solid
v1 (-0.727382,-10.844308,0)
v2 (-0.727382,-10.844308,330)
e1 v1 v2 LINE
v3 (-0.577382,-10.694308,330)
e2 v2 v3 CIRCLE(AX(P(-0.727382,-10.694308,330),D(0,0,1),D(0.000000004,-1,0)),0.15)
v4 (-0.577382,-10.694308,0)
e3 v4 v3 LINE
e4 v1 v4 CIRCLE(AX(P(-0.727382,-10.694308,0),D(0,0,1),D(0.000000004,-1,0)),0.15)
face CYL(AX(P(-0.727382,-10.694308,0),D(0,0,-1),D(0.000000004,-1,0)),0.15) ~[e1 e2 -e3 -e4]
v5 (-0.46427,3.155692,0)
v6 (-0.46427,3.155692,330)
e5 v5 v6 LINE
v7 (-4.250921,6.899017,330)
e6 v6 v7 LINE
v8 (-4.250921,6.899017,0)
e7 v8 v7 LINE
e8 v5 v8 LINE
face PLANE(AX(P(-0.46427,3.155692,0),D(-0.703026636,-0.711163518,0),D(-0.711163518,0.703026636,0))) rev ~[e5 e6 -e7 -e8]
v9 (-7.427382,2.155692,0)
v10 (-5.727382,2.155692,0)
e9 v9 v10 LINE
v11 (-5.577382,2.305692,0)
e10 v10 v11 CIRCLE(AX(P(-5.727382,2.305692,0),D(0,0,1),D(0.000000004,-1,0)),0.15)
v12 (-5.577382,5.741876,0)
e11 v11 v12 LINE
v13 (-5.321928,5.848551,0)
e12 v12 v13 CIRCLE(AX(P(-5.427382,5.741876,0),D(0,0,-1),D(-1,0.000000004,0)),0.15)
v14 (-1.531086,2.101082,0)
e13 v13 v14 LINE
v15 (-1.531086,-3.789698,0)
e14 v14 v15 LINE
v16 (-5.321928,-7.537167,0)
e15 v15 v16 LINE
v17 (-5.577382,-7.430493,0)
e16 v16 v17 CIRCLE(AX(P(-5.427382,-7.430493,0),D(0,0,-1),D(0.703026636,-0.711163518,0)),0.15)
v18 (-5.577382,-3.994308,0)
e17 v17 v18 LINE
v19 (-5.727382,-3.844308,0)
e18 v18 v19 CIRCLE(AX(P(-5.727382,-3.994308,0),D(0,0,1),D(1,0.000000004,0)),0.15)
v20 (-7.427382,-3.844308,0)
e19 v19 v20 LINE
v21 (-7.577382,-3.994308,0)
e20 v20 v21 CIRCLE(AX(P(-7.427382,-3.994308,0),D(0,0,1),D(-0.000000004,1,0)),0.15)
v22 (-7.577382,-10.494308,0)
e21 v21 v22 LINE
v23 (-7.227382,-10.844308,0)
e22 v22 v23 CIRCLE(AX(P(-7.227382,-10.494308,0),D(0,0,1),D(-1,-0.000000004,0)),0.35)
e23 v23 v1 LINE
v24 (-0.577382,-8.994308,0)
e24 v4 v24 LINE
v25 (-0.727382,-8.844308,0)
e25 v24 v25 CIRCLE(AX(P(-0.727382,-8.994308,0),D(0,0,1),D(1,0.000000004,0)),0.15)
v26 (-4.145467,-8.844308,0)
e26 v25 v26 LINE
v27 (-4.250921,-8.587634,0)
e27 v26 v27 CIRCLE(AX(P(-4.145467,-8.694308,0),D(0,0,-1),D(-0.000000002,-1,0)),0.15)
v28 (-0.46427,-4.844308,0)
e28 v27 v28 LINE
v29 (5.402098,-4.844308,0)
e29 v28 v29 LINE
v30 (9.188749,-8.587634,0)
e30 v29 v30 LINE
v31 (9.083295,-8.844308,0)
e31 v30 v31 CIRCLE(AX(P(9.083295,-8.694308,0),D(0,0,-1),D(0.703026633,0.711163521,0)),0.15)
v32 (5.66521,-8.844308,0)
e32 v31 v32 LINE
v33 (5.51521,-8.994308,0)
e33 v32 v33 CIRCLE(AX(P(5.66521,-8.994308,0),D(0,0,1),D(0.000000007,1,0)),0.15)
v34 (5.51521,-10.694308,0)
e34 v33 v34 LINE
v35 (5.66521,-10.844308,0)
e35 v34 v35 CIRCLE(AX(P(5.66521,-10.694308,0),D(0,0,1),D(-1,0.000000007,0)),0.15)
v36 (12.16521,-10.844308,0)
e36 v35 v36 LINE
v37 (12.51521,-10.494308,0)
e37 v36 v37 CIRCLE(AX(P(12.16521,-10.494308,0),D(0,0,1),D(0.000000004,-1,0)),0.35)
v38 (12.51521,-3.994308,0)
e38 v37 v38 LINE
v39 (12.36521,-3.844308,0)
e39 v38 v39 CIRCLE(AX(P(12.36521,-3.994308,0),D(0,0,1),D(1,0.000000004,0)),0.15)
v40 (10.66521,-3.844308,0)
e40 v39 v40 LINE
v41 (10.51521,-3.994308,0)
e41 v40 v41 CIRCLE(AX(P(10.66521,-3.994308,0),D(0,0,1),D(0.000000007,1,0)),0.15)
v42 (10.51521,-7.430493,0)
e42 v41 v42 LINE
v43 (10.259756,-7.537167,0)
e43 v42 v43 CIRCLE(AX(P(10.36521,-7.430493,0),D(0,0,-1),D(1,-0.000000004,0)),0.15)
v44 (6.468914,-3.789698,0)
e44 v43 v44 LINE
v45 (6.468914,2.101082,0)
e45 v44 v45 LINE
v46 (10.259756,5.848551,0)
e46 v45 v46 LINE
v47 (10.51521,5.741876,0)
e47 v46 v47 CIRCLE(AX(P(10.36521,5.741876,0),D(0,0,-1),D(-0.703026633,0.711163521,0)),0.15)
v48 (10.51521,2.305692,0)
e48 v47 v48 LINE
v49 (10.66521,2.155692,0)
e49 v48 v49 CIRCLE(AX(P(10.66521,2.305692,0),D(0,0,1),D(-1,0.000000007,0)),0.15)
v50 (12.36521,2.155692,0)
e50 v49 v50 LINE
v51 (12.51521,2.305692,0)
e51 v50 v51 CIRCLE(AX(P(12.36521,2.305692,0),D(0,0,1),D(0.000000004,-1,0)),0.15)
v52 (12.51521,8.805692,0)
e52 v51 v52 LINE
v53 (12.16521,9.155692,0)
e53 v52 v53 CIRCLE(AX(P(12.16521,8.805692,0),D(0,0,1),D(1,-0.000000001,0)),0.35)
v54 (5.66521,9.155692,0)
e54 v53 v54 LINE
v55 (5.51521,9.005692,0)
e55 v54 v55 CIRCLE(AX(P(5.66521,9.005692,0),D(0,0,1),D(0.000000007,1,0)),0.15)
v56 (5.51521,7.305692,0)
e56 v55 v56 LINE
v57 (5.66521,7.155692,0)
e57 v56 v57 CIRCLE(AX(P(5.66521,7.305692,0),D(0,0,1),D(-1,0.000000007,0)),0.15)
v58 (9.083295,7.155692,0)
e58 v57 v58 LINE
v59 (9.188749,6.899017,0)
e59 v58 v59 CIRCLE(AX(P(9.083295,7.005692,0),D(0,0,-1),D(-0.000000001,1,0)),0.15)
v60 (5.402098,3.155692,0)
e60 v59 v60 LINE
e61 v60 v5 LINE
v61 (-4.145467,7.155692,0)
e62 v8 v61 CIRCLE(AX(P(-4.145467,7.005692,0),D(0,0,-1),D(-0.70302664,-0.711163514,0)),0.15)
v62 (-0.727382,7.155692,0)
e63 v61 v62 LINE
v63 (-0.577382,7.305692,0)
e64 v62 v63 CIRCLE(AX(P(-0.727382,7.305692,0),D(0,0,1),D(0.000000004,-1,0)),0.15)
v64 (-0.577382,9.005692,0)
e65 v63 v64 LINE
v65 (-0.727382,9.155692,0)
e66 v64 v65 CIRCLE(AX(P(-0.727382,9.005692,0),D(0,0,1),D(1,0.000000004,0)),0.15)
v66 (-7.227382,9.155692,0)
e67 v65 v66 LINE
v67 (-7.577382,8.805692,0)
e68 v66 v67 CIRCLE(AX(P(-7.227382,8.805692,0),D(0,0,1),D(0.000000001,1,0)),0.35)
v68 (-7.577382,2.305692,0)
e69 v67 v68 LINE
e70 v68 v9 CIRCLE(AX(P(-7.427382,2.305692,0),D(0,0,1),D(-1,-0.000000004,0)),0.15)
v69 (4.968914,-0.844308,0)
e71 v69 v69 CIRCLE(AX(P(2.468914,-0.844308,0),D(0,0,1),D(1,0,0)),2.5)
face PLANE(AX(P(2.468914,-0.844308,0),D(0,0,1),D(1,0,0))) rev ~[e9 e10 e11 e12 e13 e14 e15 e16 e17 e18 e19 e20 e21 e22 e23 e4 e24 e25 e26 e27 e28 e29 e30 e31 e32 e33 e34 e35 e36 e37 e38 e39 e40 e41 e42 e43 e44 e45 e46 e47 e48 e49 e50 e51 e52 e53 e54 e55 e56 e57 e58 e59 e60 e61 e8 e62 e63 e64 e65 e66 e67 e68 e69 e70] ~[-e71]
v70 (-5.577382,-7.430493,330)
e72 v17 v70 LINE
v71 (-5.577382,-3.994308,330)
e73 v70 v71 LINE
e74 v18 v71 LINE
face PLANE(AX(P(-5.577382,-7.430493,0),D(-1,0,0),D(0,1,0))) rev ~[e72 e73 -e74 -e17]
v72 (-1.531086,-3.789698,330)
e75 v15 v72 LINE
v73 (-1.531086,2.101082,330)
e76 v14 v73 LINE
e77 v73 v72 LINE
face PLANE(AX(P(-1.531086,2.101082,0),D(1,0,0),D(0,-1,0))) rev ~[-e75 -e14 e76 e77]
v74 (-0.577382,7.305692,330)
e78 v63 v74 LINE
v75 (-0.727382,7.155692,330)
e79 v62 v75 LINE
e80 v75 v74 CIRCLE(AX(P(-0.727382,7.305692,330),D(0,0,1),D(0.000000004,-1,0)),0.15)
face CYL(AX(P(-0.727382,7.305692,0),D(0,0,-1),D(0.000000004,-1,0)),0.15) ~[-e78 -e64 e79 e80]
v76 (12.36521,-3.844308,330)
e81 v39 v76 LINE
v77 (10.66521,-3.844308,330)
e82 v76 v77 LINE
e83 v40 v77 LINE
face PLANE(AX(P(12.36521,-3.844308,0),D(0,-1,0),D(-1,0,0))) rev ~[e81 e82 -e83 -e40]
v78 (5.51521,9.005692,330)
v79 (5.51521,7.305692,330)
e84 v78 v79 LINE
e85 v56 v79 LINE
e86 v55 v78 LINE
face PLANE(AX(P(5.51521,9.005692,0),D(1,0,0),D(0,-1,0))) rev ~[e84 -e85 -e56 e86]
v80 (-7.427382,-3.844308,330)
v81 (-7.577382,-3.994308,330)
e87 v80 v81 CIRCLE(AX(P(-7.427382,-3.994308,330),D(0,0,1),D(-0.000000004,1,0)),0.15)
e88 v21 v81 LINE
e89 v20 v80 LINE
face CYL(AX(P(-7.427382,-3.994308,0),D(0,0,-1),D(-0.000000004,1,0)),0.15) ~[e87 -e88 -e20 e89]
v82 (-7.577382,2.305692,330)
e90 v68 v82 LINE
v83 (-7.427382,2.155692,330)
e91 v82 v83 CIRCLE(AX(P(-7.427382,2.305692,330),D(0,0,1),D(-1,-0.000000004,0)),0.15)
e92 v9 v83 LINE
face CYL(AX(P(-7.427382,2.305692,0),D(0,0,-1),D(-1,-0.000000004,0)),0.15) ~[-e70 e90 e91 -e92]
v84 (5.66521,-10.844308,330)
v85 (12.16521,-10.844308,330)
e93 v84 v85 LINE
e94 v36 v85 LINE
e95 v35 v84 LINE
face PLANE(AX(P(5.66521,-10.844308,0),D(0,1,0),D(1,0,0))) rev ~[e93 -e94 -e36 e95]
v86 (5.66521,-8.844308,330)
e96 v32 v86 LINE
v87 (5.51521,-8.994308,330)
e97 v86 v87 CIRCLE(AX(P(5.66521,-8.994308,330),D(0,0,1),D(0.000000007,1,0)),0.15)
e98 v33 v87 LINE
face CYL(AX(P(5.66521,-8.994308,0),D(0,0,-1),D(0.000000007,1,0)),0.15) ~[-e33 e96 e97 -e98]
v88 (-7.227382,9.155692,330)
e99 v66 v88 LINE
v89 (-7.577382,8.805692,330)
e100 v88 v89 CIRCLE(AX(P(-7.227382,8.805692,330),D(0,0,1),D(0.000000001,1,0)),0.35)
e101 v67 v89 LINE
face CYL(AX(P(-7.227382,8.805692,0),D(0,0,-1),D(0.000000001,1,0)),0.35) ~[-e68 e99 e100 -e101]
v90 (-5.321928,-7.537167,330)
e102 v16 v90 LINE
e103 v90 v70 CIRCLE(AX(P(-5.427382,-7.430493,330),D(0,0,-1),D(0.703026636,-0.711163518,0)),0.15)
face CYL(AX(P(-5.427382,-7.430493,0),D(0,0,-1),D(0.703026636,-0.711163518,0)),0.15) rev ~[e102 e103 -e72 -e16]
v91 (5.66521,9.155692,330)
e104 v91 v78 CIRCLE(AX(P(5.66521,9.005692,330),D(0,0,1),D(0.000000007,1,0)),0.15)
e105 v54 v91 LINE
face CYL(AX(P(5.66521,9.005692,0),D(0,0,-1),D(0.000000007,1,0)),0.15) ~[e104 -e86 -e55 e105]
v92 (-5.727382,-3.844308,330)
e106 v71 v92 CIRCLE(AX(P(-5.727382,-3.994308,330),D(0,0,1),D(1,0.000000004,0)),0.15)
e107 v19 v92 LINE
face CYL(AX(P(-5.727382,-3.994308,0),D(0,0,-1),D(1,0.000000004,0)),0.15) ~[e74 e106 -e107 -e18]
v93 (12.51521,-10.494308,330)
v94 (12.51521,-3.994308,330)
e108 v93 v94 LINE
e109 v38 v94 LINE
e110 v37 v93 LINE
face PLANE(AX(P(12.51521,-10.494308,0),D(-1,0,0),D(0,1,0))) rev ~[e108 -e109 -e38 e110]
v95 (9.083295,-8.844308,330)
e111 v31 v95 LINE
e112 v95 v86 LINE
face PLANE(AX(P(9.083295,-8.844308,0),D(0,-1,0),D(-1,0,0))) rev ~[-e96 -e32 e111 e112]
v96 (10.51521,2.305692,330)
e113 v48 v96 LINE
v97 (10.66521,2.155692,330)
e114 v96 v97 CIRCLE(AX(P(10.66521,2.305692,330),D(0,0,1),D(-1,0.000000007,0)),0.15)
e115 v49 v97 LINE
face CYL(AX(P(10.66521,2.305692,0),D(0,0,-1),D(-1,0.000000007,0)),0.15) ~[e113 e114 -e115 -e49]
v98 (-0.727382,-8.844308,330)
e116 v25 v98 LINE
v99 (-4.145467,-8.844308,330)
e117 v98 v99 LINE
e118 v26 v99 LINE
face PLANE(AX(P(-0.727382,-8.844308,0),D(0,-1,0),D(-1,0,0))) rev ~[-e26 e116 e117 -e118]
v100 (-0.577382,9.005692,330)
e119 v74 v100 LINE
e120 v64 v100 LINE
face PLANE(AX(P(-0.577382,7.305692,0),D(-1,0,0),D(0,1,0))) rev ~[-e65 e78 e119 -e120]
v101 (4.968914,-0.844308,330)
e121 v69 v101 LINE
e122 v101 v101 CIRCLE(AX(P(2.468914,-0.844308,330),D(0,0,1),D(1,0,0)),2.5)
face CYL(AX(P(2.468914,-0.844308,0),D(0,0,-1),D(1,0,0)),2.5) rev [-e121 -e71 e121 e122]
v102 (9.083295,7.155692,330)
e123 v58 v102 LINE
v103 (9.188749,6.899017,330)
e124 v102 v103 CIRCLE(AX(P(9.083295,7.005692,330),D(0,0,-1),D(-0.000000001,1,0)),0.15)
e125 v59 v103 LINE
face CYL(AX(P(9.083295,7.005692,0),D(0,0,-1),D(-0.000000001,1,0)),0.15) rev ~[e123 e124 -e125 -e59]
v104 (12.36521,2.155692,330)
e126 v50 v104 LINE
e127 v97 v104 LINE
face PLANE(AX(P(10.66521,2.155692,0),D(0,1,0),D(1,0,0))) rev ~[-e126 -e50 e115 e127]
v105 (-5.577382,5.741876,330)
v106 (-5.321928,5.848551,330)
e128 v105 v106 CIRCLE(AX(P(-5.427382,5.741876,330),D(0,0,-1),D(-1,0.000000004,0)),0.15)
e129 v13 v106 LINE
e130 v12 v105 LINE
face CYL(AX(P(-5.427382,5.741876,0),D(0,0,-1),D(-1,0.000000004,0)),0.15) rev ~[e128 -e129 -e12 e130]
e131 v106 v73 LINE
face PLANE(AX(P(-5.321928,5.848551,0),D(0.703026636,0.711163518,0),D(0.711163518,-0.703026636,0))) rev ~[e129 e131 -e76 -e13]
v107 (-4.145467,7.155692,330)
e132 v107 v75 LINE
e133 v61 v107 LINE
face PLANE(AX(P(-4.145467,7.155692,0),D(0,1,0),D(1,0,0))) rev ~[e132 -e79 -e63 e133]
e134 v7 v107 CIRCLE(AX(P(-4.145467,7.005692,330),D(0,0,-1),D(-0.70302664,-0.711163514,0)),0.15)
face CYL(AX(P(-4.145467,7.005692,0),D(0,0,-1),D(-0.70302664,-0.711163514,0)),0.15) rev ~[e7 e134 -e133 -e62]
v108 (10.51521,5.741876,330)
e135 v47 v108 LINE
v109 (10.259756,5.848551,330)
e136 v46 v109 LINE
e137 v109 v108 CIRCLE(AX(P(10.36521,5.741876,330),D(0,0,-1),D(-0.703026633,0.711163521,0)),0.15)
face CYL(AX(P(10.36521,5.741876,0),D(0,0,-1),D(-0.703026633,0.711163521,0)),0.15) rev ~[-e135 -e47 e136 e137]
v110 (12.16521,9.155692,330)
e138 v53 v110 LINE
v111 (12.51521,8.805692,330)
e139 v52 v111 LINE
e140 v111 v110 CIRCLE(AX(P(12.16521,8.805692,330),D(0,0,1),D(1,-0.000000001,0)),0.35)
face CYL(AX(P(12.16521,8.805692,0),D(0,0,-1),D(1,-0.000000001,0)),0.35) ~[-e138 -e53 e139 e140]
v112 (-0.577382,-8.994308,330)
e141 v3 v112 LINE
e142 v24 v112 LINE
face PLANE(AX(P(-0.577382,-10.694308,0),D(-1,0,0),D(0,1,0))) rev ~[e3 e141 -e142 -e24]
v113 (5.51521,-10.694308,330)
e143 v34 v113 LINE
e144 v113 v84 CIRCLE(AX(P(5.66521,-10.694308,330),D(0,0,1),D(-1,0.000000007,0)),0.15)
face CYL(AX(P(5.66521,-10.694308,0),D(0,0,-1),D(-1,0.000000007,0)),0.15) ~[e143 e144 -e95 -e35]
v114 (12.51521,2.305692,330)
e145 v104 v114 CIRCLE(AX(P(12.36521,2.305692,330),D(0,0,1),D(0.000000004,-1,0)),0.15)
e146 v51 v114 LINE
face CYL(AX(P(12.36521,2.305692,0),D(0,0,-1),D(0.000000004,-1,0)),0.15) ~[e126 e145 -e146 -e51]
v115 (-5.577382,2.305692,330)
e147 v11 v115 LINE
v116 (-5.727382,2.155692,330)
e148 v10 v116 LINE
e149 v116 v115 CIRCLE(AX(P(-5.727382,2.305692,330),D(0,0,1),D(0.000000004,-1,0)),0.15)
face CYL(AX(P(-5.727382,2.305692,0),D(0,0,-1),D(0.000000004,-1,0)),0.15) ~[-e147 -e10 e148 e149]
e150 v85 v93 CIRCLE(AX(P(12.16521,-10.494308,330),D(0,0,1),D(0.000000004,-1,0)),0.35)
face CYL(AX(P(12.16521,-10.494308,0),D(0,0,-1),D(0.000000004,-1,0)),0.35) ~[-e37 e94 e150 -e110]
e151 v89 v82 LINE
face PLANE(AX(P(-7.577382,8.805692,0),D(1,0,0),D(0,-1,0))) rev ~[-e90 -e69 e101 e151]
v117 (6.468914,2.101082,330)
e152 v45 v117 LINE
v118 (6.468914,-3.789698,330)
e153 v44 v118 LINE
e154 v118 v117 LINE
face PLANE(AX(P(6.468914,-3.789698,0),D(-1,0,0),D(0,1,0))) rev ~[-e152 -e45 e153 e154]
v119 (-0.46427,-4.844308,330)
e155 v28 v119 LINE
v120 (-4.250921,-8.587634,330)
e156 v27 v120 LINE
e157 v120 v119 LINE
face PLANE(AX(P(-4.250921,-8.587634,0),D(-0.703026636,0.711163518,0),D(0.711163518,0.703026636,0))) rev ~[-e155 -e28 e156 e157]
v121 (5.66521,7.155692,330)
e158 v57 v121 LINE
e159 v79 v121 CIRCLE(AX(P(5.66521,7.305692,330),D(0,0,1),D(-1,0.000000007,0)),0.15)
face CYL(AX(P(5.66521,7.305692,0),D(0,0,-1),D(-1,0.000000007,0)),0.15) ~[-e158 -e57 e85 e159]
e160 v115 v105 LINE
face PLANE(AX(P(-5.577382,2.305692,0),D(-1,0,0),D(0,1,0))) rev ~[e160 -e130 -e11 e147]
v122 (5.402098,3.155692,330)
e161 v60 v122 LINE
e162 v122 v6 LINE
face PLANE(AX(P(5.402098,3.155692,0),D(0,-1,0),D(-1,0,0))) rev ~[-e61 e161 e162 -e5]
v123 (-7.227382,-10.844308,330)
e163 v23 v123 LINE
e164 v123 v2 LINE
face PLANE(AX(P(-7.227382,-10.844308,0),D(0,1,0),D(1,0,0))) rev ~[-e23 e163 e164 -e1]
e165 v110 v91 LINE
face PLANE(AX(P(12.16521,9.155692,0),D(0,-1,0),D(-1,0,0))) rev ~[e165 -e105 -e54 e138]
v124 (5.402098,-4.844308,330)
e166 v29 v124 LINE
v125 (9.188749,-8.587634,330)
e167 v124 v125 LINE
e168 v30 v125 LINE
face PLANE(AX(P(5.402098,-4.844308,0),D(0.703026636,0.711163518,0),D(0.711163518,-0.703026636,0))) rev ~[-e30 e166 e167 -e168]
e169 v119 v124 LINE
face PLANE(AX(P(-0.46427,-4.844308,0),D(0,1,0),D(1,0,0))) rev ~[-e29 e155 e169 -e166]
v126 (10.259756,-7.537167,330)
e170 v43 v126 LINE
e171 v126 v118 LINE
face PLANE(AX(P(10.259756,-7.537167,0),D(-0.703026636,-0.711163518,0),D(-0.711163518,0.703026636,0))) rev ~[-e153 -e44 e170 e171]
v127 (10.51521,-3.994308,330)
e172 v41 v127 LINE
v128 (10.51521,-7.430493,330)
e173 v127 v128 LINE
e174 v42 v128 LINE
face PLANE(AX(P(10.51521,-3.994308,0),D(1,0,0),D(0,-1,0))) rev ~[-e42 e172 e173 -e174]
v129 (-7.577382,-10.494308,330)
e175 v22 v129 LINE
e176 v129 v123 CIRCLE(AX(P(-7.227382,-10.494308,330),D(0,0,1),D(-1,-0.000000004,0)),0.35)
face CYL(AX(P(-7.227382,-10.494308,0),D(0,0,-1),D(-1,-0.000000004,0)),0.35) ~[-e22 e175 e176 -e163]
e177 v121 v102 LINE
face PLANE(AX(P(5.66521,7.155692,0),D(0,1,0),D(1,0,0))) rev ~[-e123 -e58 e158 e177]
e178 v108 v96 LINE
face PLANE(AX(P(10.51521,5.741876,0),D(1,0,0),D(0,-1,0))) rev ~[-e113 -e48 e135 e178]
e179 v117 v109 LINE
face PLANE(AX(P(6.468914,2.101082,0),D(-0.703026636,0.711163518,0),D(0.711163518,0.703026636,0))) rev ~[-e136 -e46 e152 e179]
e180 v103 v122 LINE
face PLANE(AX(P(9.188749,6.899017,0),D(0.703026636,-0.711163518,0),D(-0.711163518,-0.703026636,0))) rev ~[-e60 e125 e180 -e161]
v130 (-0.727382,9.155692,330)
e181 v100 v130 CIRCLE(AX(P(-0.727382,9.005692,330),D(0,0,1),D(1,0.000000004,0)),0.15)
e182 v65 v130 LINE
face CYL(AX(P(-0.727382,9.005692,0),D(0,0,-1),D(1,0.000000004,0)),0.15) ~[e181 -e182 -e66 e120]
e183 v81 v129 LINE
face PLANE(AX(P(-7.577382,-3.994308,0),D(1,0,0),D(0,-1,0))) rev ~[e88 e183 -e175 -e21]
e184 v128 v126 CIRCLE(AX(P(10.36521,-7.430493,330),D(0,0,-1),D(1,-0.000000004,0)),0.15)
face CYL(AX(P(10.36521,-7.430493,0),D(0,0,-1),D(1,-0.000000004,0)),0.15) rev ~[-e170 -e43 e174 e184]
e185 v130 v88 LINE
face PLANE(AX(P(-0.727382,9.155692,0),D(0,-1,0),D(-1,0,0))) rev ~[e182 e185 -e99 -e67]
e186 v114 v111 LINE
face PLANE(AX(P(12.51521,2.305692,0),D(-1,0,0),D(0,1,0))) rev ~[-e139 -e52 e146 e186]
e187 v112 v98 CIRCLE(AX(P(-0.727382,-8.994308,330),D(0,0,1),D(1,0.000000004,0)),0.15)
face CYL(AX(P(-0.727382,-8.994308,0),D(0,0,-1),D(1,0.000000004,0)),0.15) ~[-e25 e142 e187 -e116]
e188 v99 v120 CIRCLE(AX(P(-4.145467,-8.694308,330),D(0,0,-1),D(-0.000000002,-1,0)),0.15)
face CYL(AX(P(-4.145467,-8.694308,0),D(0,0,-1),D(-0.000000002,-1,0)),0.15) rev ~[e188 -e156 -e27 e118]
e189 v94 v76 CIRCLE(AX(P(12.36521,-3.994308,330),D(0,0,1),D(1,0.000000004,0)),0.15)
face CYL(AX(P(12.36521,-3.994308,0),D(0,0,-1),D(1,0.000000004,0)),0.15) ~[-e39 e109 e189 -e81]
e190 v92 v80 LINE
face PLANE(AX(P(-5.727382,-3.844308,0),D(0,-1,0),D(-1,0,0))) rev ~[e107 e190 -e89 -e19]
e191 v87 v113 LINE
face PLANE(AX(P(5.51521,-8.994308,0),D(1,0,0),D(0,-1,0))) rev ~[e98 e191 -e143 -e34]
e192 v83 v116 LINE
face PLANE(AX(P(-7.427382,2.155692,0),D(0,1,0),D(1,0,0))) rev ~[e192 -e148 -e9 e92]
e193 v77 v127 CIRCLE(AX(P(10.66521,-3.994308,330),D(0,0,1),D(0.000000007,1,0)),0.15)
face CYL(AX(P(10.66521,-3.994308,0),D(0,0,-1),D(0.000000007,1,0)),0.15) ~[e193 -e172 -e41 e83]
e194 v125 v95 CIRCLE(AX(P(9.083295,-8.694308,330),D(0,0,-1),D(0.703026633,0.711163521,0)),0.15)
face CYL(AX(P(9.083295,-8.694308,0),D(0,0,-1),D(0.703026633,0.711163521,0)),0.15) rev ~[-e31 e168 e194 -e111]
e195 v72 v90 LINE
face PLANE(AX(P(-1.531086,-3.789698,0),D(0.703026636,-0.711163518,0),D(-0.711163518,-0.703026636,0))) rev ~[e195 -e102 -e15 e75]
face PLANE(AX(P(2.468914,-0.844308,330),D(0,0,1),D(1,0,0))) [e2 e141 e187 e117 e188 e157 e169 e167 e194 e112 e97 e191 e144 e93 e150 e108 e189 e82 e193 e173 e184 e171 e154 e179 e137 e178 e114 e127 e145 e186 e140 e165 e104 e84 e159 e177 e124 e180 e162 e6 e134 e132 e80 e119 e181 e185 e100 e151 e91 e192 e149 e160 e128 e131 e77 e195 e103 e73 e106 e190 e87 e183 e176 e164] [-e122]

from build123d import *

# Parameters (mm, degrees)
SKETCH1_R           = 2.5
BOSS_EXTRUDE1_DEPTH = 330


with BuildPart() as part:
    # Sketch1 → Boss-Extrude1 (new body)
    with BuildSketch(Plane.XY):
        with BuildLine():
            Line((-7.427382464, 2.155691805), (-5.727382464, 2.155691805))
            ThreePointArc((-5.727382464, 2.155691805), (-5.621316447, 2.199625788), (-5.577382464, 2.305691805))
            Line((-5.577382464, 2.305691805), (-5.577382464, 5.741876319))
            ThreePointArc((-5.577382464, 5.741876319), (-5.485183419, 5.880292537), (-5.321928469, 5.848550846))
            Line((-5.321928469, 5.848550846), (-1.531086168, 2.101082027))
            Line((-1.531086168, 2.101082027), (-1.531086168, -3.789698417))
            Line((-1.531086168, -3.789698417), (-5.321928469, -7.537167236))
            ThreePointArc((-5.321928469, -7.537167236), (-5.485183419, -7.568908927), (-5.577382464, -7.430492708))
            Line((-5.577382464, -7.430492708), (-5.577382464, -3.994308195))
            ThreePointArc((-5.577382464, -3.994308195), (-5.621316447, -3.888242178), (-5.727382464, -3.844308195))
            Line((-5.727382464, -3.844308195), (-7.427382464, -3.844308195))
            ThreePointArc((-7.427382464, -3.844308195), (-7.533448481, -3.888242178), (-7.577382464, -3.994308195))
            Line((-7.577382464, -3.994308195), (-7.577382464, -10.494308195))
            ThreePointArc((-7.577382464, -10.494308195), (-7.474869837, -10.741795568), (-7.227382464, -10.844308195))
            Line((-7.227382464, -10.844308195), (-0.727382464, -10.844308195))
            ThreePointArc((-0.727382464, -10.844308195), (-0.621316447, -10.800374212), (-0.577382464, -10.694308195))
            Line((-0.577382464, -10.694308195), (-0.577382464, -8.994308195))
            ThreePointArc((-0.577382464, -8.994308195), (-0.621316447, -8.888242178), (-0.727382464, -8.844308195))
            Line((-0.727382464, -8.844308195), (-4.145467261, -8.844308195))
            ThreePointArc((-4.145467261, -8.844308195), (-4.284213755, -8.751311795), (-4.250921257, -8.587633667))
            Line((-4.250921257, -8.587633667), (-0.464270258, -4.844308195))
            Line((-0.464270258, -4.844308195), (5.402097922, -4.844308195))
            Line((5.402097922, -4.844308195), (9.188748921, -8.587633667))
            ThreePointArc((9.188748921, -8.587633667), (9.22204142, -8.751311795), (9.083294926, -8.844308195))
            Line((9.083294926, -8.844308195), (5.665210129, -8.844308195))
            ThreePointArc((5.665210129, -8.844308195), (5.559144111, -8.888242178), (5.515210129, -8.994308195))
            Line((5.515210129, -8.994308195), (5.515210129, -10.694308195))
            ThreePointArc((5.515210129, -10.694308195), (5.559144111, -10.800374212), (5.665210129, -10.844308195))
            Line((5.665210129, -10.844308195), (12.165210129, -10.844308195))
            ThreePointArc((12.165210129, -10.844308195), (12.412697502, -10.741795568), (12.515210129, -10.494308195))
            Line((12.515210129, -10.494308195), (12.515210129, -3.994308195))
            ThreePointArc((12.515210129, -3.994308195), (12.471276146, -3.888242178), (12.365210129, -3.844308195))
            Line((12.365210129, -3.844308195), (10.665210129, -3.844308195))
            ThreePointArc((10.665210129, -3.844308195), (10.559144111, -3.888242178), (10.515210129, -3.994308195))
            Line((10.515210129, -3.994308195), (10.515210129, -7.430492708))
            ThreePointArc((10.515210129, -7.430492708), (10.423011083, -7.568908927), (10.259756133, -7.537167236))
            Line((10.259756133, -7.537167236), (6.468913832, -3.789698417))
            Line((6.468913832, -3.789698417), (6.468913832, 2.101082027))
            Line((6.468913832, 2.101082027), (10.259756133, 5.848550846))
            ThreePointArc((10.259756133, 5.848550846), (10.423011083, 5.880292537), (10.515210129, 5.741876319))
            Line((10.515210129, 5.741876319), (10.515210129, 2.305691805))
            ThreePointArc((10.515210129, 2.305691805), (10.559144111, 2.199625788), (10.665210129, 2.155691805))
            Line((10.665210129, 2.155691805), (12.365210129, 2.155691805))
            ThreePointArc((12.365210129, 2.155691805), (12.471276146, 2.199625788), (12.515210129, 2.305691805))
            Line((12.515210129, 2.305691805), (12.515210129, 8.805691805))
            ThreePointArc((12.515210129, 8.805691805), (12.412697502, 9.053179179), (12.165210129, 9.155691805))
            Line((12.165210129, 9.155691805), (5.665210129, 9.155691805))
            ThreePointArc((5.665210129, 9.155691805), (5.559144111, 9.111757822), (5.515210129, 9.005691805))
            Line((5.515210129, 9.005691805), (5.515210129, 7.305691805))
            ThreePointArc((5.515210129, 7.305691805), (5.559144111, 7.199625788), (5.665210129, 7.155691805))
            Line((5.665210129, 7.155691805), (9.083294926, 7.155691805))
            ThreePointArc((9.083294926, 7.155691805), (9.22204142, 7.062695405), (9.188748921, 6.899017277))
            Line((9.188748921, 6.899017277), (5.402097922, 3.155691805))
            Line((5.402097922, 3.155691805), (-0.464270258, 3.155691805))
            Line((-0.464270258, 3.155691805), (-4.250921257, 6.899017277))
            ThreePointArc((-4.250921257, 6.899017277), (-4.284213755, 7.062695405), (-4.145467261, 7.155691805))
            Line((-4.145467261, 7.155691805), (-0.727382464, 7.155691805))
            ThreePointArc((-0.727382464, 7.155691805), (-0.621316447, 7.199625788), (-0.577382464, 7.305691805))
            Line((-0.577382464, 7.305691805), (-0.577382464, 9.005691805))
            ThreePointArc((-0.577382464, 9.005691805), (-0.621316447, 9.111757822), (-0.727382464, 9.155691805))
            Line((-0.727382464, 9.155691805), (-7.227382464, 9.155691805))
            ThreePointArc((-7.227382464, 9.155691805), (-7.474869837, 9.053179179), (-7.577382464, 8.805691805))
            Line((-7.577382464, 8.805691805), (-7.577382464, 2.305691805))
            ThreePointArc((-7.577382464, 2.305691805), (-7.533448481, 2.199625788), (-7.427382464, 2.155691805))
        make_face()
        with Locations((2.468913832, -0.844308195)):
            Circle(SKETCH1_R, mode=Mode.SUBTRACT)
    extrude(amount=BOSS_EXTRUDE1_DEPTH)


solid = part.part
